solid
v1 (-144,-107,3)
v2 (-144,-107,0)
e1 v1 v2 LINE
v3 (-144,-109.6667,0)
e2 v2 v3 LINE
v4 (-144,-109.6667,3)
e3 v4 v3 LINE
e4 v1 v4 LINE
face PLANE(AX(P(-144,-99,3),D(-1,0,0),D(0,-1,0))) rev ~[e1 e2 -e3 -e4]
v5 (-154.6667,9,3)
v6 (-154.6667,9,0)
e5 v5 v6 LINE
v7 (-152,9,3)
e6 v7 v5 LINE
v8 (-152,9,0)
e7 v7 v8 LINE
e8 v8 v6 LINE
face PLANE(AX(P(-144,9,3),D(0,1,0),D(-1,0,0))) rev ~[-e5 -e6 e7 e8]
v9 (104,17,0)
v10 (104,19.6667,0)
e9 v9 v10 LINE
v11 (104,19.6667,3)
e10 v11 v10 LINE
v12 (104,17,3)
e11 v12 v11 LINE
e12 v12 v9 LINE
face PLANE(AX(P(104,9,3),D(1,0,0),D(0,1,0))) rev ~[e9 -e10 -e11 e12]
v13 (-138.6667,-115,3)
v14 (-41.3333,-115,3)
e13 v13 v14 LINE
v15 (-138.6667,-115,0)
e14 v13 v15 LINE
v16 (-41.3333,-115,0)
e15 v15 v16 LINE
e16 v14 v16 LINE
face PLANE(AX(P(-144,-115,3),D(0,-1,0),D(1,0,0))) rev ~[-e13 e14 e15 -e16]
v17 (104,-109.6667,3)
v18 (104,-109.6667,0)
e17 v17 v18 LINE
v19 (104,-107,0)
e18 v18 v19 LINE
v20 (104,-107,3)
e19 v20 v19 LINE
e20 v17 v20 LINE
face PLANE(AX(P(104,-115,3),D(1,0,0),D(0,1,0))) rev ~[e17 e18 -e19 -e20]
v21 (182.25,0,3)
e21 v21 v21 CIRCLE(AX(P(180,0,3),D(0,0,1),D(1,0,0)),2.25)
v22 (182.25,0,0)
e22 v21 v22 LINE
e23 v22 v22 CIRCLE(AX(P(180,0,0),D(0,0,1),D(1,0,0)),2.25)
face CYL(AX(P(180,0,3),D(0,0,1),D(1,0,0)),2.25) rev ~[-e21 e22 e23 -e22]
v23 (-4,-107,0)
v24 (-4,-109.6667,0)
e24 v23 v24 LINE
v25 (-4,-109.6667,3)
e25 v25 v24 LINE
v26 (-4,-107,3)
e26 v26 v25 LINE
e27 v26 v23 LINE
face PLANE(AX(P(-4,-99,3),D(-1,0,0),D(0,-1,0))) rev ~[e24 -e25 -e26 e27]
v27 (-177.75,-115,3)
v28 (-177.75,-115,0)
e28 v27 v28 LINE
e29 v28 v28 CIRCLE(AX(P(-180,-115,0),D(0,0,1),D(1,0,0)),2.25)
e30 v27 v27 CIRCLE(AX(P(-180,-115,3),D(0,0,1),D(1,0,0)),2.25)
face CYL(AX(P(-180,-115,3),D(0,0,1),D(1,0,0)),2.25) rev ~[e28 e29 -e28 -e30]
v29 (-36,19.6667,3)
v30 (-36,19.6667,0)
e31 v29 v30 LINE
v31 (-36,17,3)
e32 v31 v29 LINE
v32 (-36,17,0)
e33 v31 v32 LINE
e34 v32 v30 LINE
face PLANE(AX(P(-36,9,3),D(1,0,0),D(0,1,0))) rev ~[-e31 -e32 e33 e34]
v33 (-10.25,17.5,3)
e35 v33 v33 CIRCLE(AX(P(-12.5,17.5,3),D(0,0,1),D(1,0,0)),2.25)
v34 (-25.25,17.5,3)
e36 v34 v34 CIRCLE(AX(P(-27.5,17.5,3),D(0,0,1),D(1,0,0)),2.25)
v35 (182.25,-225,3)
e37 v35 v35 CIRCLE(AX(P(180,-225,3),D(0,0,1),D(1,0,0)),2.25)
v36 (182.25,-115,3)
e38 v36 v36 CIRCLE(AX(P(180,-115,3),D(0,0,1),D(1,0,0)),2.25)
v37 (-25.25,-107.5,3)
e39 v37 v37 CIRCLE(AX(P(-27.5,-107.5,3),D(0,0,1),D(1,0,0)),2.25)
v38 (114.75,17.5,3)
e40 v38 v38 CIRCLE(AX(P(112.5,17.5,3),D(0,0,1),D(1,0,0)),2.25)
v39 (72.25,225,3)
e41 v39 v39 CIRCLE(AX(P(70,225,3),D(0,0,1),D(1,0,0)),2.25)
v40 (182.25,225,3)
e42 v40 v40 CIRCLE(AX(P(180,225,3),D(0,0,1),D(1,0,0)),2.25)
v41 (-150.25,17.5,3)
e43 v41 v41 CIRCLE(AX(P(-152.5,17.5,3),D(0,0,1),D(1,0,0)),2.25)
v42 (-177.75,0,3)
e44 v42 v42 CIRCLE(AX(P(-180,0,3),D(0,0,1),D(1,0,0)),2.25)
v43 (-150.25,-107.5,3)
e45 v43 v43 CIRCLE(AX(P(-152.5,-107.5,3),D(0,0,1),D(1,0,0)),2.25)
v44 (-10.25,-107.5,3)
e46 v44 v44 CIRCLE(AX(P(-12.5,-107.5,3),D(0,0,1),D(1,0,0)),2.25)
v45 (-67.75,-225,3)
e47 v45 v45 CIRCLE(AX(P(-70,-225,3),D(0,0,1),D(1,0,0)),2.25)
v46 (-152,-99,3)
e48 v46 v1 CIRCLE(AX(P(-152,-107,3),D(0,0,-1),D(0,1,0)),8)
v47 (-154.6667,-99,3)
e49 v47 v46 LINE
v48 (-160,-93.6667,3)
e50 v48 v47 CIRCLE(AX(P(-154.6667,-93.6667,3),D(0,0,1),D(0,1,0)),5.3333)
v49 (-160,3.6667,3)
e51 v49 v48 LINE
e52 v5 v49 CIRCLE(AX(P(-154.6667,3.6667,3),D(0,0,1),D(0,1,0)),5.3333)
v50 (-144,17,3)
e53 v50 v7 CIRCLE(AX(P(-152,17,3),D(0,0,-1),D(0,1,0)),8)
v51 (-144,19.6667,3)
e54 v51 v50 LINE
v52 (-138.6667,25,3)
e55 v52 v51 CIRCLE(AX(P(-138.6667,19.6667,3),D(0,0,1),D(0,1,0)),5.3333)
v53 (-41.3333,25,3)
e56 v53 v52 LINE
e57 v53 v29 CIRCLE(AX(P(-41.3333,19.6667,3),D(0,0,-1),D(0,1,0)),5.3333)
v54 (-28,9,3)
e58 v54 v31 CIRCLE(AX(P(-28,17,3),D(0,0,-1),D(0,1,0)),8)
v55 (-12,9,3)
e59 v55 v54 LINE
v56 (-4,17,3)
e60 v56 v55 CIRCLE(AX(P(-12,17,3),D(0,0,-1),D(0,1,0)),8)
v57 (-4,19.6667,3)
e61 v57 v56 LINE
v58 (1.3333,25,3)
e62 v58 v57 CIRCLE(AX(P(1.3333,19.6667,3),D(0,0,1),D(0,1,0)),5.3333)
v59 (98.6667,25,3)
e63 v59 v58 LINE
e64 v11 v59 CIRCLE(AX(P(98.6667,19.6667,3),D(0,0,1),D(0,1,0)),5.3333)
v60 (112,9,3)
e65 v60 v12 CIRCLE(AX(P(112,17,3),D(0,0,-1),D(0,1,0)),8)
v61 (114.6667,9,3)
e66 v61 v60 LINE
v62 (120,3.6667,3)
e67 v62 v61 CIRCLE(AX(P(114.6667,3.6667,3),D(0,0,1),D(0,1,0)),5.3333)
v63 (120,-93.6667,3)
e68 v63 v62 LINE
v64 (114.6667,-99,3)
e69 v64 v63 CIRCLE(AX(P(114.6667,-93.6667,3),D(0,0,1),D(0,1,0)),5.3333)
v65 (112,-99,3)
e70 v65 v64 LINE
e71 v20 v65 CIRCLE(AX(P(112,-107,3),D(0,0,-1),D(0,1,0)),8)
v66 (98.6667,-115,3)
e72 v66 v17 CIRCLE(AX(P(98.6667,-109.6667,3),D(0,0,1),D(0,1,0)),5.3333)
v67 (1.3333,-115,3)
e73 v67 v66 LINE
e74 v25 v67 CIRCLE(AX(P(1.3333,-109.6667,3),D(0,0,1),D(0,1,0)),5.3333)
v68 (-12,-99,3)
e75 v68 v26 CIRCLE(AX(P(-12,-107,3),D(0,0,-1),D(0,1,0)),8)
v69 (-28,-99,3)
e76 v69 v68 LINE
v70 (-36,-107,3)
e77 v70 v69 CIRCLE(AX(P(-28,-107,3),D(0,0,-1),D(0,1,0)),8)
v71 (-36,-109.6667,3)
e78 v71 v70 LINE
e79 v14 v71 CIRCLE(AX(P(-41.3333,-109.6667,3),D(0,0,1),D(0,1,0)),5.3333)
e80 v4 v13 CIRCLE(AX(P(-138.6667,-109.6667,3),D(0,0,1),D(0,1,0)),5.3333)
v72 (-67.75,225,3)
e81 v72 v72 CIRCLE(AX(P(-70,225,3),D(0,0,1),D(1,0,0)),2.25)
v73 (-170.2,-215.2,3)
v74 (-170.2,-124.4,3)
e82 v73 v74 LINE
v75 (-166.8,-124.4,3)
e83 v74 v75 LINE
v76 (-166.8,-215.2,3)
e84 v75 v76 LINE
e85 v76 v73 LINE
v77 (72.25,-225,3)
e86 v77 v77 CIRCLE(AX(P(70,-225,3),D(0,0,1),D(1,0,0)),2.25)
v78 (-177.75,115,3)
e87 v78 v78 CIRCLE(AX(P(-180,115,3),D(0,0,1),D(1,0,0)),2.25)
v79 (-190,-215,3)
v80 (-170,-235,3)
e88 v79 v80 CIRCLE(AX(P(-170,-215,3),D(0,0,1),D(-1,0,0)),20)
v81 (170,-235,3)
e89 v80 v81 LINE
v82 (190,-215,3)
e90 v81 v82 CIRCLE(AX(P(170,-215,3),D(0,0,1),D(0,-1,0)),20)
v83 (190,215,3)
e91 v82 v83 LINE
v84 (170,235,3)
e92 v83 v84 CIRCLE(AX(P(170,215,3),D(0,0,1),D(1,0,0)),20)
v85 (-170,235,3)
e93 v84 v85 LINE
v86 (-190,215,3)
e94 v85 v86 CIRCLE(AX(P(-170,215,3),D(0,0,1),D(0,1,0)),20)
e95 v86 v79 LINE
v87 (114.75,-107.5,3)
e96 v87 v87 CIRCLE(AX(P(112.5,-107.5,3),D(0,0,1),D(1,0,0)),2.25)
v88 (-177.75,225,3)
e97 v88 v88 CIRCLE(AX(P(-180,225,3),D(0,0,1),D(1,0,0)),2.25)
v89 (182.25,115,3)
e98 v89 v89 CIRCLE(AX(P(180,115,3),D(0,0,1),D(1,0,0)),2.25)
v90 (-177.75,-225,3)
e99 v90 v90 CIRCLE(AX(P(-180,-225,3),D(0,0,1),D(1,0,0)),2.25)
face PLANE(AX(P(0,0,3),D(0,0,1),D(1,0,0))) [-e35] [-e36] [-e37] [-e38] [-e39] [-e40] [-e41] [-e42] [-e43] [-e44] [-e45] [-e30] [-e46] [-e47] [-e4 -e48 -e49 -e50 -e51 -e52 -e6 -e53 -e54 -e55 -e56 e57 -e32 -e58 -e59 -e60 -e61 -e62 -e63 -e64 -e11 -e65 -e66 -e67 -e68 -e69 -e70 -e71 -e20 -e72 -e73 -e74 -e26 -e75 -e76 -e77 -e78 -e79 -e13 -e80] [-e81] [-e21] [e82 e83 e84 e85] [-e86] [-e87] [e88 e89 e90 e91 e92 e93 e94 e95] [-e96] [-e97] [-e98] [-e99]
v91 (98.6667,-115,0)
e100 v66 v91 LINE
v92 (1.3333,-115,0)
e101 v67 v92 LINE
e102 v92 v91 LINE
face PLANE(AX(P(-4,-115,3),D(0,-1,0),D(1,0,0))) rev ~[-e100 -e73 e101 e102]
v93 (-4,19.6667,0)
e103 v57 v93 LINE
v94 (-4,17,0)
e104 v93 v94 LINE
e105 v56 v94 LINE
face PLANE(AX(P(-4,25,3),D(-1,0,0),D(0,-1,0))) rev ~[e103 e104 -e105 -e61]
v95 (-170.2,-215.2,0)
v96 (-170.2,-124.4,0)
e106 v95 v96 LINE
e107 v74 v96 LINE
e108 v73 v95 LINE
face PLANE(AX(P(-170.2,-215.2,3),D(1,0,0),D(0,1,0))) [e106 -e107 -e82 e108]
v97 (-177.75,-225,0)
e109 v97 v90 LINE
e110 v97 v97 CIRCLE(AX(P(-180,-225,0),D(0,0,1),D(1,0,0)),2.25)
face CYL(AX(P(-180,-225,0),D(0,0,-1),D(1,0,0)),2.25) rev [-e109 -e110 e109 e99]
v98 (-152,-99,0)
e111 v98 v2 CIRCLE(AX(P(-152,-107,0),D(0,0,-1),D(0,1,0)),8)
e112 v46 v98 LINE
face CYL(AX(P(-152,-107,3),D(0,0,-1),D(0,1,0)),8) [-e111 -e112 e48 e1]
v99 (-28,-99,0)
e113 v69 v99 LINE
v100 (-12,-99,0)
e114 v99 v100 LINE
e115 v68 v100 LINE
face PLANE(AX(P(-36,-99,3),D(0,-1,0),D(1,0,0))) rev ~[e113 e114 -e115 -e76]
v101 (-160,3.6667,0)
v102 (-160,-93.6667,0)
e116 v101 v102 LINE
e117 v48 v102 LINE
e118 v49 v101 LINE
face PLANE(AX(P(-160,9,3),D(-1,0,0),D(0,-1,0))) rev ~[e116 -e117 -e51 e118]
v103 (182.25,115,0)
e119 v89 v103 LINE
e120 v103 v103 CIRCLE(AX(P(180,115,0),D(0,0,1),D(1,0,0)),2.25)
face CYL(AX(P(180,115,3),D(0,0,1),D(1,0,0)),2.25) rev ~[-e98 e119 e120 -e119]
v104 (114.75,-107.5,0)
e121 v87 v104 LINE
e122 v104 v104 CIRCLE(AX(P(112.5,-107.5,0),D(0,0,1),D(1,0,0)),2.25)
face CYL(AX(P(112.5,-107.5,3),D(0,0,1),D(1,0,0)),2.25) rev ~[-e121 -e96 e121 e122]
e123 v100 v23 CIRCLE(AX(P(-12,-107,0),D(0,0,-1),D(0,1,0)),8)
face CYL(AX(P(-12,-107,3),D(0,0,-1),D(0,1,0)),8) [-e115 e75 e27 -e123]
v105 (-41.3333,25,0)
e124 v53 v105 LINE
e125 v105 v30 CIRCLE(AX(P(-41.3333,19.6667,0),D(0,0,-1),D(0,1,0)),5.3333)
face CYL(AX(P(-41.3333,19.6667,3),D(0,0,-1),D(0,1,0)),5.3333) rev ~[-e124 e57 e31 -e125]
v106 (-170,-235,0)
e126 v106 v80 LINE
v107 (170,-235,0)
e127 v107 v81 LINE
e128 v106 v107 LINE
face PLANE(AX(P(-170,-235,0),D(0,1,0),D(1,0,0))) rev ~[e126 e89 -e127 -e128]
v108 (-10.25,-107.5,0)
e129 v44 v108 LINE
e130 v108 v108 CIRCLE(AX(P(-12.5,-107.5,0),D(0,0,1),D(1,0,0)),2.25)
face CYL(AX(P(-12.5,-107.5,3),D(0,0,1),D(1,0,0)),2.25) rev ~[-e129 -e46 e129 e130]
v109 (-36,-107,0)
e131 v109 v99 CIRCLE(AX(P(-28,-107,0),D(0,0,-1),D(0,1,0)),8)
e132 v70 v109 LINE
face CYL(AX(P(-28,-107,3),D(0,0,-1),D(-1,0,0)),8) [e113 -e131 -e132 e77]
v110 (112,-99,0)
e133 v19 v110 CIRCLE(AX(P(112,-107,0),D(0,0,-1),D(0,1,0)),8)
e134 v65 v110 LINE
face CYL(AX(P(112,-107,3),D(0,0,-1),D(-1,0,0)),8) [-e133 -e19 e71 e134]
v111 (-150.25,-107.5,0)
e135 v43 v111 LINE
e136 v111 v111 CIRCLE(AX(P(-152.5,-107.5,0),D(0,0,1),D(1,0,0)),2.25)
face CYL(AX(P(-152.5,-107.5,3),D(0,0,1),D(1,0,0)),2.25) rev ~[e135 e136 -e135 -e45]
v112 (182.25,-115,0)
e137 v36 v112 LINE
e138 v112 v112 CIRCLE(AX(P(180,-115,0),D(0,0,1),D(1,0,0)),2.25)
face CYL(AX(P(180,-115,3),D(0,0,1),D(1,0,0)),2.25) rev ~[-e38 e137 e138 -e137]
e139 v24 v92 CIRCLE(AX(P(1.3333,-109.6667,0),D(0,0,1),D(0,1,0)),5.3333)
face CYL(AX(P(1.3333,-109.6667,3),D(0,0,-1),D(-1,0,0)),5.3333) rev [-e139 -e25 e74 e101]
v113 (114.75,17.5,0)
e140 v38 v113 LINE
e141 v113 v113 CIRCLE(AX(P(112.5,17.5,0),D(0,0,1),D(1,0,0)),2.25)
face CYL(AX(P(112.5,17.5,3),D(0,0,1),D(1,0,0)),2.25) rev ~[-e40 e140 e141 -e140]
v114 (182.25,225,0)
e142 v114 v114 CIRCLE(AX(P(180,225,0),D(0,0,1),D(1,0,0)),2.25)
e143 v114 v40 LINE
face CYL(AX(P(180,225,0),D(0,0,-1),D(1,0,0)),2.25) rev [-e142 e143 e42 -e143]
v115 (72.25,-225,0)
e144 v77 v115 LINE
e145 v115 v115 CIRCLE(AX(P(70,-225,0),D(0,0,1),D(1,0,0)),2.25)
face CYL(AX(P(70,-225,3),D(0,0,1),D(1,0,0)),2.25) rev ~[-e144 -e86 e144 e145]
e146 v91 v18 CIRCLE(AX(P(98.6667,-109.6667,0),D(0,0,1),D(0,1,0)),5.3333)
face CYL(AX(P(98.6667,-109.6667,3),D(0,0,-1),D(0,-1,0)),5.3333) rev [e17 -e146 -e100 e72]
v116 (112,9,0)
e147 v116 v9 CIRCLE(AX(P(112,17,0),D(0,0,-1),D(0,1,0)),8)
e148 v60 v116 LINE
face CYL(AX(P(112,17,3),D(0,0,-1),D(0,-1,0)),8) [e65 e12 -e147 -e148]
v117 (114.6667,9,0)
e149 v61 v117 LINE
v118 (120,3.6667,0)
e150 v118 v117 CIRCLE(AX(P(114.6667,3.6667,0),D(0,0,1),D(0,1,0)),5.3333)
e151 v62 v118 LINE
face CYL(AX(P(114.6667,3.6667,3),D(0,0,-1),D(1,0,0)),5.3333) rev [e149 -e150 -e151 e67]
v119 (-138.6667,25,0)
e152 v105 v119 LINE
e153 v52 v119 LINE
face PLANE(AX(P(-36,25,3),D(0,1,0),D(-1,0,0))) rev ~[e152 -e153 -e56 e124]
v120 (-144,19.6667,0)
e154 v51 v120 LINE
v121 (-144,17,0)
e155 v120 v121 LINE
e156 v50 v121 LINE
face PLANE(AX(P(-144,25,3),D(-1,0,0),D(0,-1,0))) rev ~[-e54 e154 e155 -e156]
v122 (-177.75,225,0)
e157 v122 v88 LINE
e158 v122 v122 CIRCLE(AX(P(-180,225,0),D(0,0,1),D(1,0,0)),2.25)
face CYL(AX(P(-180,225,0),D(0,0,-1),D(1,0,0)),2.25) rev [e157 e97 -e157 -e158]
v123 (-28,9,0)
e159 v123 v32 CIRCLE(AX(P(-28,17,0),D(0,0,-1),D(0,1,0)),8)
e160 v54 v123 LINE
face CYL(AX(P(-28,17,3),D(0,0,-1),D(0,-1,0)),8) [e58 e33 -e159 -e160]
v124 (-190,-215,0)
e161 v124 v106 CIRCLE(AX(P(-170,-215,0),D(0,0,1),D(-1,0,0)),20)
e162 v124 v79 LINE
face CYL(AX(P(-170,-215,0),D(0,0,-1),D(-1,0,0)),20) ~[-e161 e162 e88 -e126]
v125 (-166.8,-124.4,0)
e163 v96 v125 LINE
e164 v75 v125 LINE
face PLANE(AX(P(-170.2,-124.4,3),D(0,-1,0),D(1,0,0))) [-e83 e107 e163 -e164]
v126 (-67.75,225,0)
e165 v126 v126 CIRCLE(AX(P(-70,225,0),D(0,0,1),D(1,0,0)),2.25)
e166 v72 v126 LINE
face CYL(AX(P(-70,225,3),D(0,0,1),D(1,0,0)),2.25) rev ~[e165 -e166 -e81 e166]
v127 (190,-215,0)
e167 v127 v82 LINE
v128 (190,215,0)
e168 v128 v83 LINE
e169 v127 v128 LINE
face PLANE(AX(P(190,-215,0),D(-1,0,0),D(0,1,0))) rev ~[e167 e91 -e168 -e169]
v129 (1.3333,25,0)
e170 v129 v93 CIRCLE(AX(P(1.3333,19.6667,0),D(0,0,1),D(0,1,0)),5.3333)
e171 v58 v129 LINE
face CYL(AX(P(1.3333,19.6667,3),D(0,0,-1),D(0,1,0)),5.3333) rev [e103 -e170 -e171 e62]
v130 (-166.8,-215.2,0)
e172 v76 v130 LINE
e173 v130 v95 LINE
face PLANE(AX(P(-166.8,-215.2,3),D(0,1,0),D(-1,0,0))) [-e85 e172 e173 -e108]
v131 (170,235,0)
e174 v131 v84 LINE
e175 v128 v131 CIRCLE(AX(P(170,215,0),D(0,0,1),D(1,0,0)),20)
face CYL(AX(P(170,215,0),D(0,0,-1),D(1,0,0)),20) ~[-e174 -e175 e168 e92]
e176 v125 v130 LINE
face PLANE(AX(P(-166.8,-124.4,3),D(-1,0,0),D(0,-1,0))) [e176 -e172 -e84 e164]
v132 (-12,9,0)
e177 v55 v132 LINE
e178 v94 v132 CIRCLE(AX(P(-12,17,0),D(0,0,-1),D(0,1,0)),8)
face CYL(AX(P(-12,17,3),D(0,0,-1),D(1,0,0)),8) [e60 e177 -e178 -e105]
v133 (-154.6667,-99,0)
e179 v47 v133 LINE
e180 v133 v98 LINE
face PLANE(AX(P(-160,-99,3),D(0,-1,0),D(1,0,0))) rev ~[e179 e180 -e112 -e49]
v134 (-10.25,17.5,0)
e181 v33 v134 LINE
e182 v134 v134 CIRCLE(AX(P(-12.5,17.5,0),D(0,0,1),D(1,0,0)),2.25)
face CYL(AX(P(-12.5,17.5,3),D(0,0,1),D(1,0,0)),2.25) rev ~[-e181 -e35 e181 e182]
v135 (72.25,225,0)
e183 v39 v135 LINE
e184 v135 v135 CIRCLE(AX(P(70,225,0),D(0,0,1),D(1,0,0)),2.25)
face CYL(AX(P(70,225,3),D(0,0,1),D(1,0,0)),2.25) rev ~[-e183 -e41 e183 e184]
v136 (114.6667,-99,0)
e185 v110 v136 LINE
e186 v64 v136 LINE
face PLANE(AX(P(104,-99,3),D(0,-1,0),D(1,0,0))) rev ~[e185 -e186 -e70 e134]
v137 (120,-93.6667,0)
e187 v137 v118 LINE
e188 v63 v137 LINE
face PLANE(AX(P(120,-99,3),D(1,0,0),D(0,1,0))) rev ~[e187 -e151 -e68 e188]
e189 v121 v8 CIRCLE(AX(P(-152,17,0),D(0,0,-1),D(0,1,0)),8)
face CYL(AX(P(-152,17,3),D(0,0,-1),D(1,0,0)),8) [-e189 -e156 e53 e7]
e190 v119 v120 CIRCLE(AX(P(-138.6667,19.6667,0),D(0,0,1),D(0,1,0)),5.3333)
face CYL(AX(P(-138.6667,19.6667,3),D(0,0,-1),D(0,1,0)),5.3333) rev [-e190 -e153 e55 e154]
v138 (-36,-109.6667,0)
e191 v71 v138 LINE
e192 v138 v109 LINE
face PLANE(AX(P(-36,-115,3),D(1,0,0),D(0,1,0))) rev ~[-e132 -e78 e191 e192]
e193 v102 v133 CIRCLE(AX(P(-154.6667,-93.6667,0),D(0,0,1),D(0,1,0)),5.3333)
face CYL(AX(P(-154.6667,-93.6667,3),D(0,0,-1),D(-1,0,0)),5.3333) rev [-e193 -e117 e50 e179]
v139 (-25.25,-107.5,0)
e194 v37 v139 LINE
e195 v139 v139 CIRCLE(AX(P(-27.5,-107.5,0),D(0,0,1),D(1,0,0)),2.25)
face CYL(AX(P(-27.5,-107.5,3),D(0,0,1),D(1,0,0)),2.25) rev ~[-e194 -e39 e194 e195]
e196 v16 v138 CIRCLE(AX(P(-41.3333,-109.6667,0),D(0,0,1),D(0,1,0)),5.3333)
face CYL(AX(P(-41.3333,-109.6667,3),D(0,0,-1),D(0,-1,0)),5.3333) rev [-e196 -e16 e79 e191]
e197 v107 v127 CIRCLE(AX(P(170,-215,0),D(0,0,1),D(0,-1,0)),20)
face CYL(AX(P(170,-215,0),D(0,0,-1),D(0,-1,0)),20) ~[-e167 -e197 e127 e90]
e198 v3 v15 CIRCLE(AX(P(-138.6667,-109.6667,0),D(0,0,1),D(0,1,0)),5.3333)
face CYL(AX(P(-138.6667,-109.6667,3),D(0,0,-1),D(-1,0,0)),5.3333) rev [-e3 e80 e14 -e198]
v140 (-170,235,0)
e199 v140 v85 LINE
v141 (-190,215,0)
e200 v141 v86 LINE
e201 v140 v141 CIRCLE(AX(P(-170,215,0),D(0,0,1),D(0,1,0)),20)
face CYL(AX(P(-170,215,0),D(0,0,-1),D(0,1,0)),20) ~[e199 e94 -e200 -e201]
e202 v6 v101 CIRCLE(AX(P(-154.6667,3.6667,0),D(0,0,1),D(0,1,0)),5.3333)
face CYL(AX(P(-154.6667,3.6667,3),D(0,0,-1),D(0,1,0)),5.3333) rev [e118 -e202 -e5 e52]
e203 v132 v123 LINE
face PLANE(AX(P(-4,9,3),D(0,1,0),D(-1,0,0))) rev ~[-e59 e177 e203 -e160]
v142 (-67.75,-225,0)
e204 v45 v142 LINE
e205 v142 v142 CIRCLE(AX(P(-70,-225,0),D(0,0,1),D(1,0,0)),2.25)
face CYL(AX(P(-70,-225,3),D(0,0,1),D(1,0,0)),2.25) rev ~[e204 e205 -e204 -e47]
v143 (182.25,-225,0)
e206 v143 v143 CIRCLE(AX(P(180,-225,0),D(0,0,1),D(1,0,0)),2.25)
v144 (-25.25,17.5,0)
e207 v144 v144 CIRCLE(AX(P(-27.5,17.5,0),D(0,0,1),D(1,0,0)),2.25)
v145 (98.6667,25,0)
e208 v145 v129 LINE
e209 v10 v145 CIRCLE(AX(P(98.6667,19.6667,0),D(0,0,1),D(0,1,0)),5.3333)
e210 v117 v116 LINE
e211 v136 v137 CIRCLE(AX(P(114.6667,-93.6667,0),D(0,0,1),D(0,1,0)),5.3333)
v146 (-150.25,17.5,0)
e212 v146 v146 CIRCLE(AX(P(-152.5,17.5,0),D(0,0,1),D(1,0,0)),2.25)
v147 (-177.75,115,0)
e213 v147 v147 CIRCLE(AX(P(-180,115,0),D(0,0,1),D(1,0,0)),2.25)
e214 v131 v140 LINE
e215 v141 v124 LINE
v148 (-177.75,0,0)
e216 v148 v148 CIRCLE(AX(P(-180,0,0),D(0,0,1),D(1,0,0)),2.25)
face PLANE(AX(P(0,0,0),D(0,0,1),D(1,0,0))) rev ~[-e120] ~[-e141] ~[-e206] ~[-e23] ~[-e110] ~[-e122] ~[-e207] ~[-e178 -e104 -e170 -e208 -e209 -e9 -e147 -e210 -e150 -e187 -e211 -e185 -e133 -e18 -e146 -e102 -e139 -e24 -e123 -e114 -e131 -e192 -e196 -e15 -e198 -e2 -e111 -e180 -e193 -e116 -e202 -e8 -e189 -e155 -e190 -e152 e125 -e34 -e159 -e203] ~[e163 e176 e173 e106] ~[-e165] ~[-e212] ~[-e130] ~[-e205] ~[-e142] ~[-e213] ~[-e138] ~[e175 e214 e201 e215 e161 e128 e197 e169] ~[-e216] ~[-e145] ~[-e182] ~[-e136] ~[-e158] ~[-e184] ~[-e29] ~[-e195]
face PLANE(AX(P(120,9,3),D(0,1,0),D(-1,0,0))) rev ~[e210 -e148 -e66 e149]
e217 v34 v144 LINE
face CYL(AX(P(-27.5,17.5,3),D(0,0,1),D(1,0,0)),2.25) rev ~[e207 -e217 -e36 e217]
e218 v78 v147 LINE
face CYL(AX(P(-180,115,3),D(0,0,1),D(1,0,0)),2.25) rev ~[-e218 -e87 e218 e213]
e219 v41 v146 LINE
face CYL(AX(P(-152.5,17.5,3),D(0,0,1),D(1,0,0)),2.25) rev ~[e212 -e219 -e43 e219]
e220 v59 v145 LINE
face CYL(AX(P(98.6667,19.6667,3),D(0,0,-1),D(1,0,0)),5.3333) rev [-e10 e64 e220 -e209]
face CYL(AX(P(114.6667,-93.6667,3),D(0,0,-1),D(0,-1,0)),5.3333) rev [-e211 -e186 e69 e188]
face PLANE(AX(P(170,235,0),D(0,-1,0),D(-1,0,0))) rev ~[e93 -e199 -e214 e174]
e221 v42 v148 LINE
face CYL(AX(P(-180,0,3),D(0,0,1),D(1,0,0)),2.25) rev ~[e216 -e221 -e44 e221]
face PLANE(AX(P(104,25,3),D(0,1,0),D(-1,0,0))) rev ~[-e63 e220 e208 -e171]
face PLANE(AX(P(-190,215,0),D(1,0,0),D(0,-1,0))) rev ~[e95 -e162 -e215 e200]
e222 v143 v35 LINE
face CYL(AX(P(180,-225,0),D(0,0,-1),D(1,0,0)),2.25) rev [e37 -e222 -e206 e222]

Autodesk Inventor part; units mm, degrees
ref_plane "YZ Plane" through (0, 0, 0) normal (1, 0, 0) x (0, 1, 0)
ref_plane "XZ Plane" through (0, 0, 0) normal (0, 1, 0) x (-1, 0, 0)
ref_plane "XY Plane" through (0, 0, 0) normal (0, 0, 1) x (1, 0, 0)
sketch "スケッチ1" plane through (0, 0, 0) normal (0, 0, 1) x (1, 0, 0)
  line L0 (-170, -235) -> (170, -235)
  line L1 (190, -215) -> (190, 215)
  line L2 (170, 235) -> (-170, 235)
  line L3 (-190, 215) -> (-190, -215)
  line L4 (-190, -235) -> (190, 235) construction
  line L5 (190, -235) -> (-190, 235) construction
  circle A0 centre (-180, 225) radius 2.25
  circle A1 centre (180, 225) radius 2.25
  circle A2 centre (-180, -225) radius 2.25
  circle A3 centre (180, -225) radius 2.25
  arc A4 (-170, 235) -> (-190, 215) centre (-170, 215) ccw
  arc A5 (190, 215) -> (170, 235) centre (170, 215) ccw
  arc A6 (170, -235) -> (190, -215) centre (170, -215) ccw
  arc A7 (-190, -215) -> (-170, -235) centre (-170, -215) ccw
  point P0 (0, 0)
  dimension "d0" = 380
  dimension "d1" = 470
  dimension "d2" = 4.5
  dimension "d3" = 10
  dimension "d4" = 10
  dimension "d5" = 10
  dimension "d6" = 10
  dimension "d7" = 10
  dimension "d8" = 10
  dimension "d9" = 10
  dimension "d10" = 10
  dimension "d11" = 20
extrude "押し出し1" add sketch "スケッチ1" along normal blind 3
sketch "スケッチ2" plane through (0, 0, 3) normal (0, 0, 1) x (1, 0, 0)
  circle A0 centre (-180, -225) radius 2.25 construction
  circle A1 centre (-180, -115) radius 2.25
  line L0 (-190, 215) -> (-190, -215) projected
  point P0 (0, 0)
  dimension "d14" = 110
  dimension "d15" = 10
extrude "押し出し2" cut sketch "スケッチ2" against normal blind 10
sketch "スケッチ3" plane through (0, 0, 3) normal (0, 0, 1) x (1, 0, 0)
  line L0 (-167, -124.6) -> (-167, -215) construction
  line L1 (-170, -124.6) -> (-167, -124.6) construction
  line L2 (-170, -215) -> (-170, -124.6) construction
  line L3 (-170, -215) -> (-167, -215) construction
  line L4 (-170.2, -124.4) -> (-166.8, -124.4)
  line L5 (-166.8, -124.4) -> (-166.8, -215.2)
  line L6 (-166.8, -215.2) -> (-170.2, -215.2)
  line L7 (-170.2, -215.2) -> (-170.2, -124.4)
  point P0 (0, 0)
  dimension "d18" = 0.2
extrude "押し出し3" cut sketch "スケッチ3" against normal up to surface (3 mm away)
sketch "スケッチ4" plane through (0, 0, 3) normal (0, 0, 1) x (1, 0, 0)
  circle A0 centre (-180, -225) radius 2.25 construction
  circle A1 centre (-180, -115) radius 2.25 construction
  circle A2 centre (180, -225) radius 2.25 construction
  circle A3 centre (-180, 225) radius 2.25 construction
  circle A4 centre (180, 225) radius 2.25 construction
  circle A5 centre (-180, -225) radius 2.25 construction
  circle A6 centre (-180, -115) radius 2.25 construction
  circle A7 centre (-180, -225) radius 110 construction
  circle A8 centre (-180, 225) radius 2.25 construction
  circle A9 centre (-180, 225) radius 110 construction
  circle A10 centre (180, 225) radius 110 construction
  circle A11 centre (180, -225) radius 110 construction
  line L0 (-180, -225) -> (180, -225) construction
  line L1 (180, -225) -> (180, 225) construction
  line L2 (180, 225) -> (-180, 225) construction
  line L3 (-180, 225) -> (-180, -225) construction
  line L4 (-180, 0) -> (180, 0) construction
  circle A12 centre (-180, 115) radius 2.25
  circle A13 centre (-180, 0) radius 2.25
  circle A14 centre (-70, -225) radius 2.25
  circle A15 centre (70, -225) radius 2.25
  circle A16 centre (180, -115) radius 2.25
  circle A17 centre (180, 115) radius 2.25
  circle A18 centre (70, 225) radius 2.25
  circle A19 centre (-70, 225) radius 2.25
  circle A20 centre (180, 0) radius 2.25
  point P0 (0, 0)
extrude "押し出し4" cut sketch "スケッチ4" against normal up to surface (3 mm away)
sketch "スケッチ5" plane through (0, 0, 3) normal (0, 0, 1) x (1, 0, 0)
  line L0 (-160, -115) -> (-20, -115) construction
  line L1 (-20, -115) -> (-20, 25) construction
  line L2 (-20, 25) -> (-160, 25) construction
  line L3 (-160, 25) -> (-160, -115) construction
  line L4 (-20, -115) -> (120, -115) construction
  line L5 (120, -115) -> (120, 25) construction
  line L6 (120, 25) -> (-20, 25) construction
  line L7 (-20, 25) -> (-20, -115) construction
  line L8 (-170, -235) -> (170, -235) construction
  line L9 (-190, 215) -> (-190, -215) construction
  line L10 (-152.5, -107.5) -> (-27.5, -107.5) construction
  line L11 (-27.5, -107.5) -> (-27.5, 17.5) construction
  line L12 (-27.5, 17.5) -> (-152.5, 17.5) construction
  line L13 (-152.5, 17.5) -> (-152.5, -107.5) construction
  line L14 (-12.5, 17.5) -> (112.5, 17.5) construction
  line L15 (112.5, 17.5) -> (112.5, -107.5) construction
  line L16 (112.5, -107.5) -> (-12.5, -107.5) construction
  line L17 (-12.5, -107.5) -> (-12.5, 17.5) construction
  circle A0 centre (-152.5, 17.5) radius 2.25
  circle A1 centre (-27.5, 17.5) radius 2.25
  circle A2 centre (-152.5, -107.5) radius 2.25
  circle A3 centre (-27.5, -107.5) radius 2.25
  circle A4 centre (-12.5, -107.5) radius 2.25
  circle A5 centre (-12.5, 17.5) radius 2.25
  circle A6 centre (112.5, 17.5) radius 2.25
  circle A7 centre (112.5, -107.5) radius 2.25
  line L18 (-144, 25) -> (-144, 9)
  line L19 (-144, 9) -> (-160, 9)
  line L20 (-160, 9) -> (-160, -99)
  line L21 (-160, -99) -> (-144, -99)
  line L22 (-144, -99) -> (-144, -115)
  line L23 (-144, -115) -> (-36, -115)
  line L24 (-36, -115) -> (-36, -99)
  line L25 (-36, -99) -> (-4, -99)
  line L26 (-4, -99) -> (-4, -115)
  line L27 (-4, -115) -> (104, -115)
  line L28 (104, -115) -> (104, -99)
  line L29 (104, -99) -> (120, -99)
  line L30 (120, -99) -> (120, 9)
  line L31 (120, 9) -> (104, 9)
  line L32 (104, 9) -> (104, 25)
  line L33 (104, 25) -> (-4, 25)
  line L34 (-4, 25) -> (-4, 9)
  line L35 (-4, 9) -> (-36, 9)
  line L36 (-36, 9) -> (-36, 25)
  line L37 (-36, 25) -> (-144, 25)
  point P0 (0, 0)
  dimension "d23" = 140
  dimension "d24" = 0
  dimension "d25" = 120
  dimension "d26" = 30
  dimension "d27" = 125
  dimension "d28" = 125
  dimension "d29" = 7.5
  dimension "d30" = 7.5
  dimension "d31" = 7.5
  dimension "d32" = 7.5
  dimension "d33" = 7.5
  dimension "d34" = 4.5
  dimension "d35" = 16
  dimension "d36" = 16
extrude "押し出し5" cut sketch "スケッチ5" against normal through all
fillet "フィレット1" radius 8 8 edges at (-144, 9, 1.5) (-144, -99, 1.5) (-36, -99, 1.5) (-4, -99, 1.5) (104, -99, 1.5) (104, 9, 1.5) (-4, 9, 1.5) (-36, 9, 1.5)
fillet "フィレット1" radius 5.3333 12 edges at (-144, 25, 1.5) (-160, 9, 1.5) (-160, -99, 1.5) (-144, -115, 1.5) (-36, -115, 1.5) (-4, -115, 1.5) (104, -115, 1.5) (120, -99, 1.5) (120, 9, 1.5) (104, 25, 1.5) (-4, 25, 1.5) (-36, 25, 1.5)
equation "\"d5\" = d3"
equation "\"d6\" = d4"
equation "\"d7\" = d6"
equation "\"d8\" = d5"
equation "\"d9\" = d8"
equation "\"d10\" = d7"
equation "\"d30\" = d29"
equation "\"d31\" = d30"
equation "\"d32\" = d30"
equation "\"d33\" = d31"
equation "\"d36\" = d35"
equation "\"d39\" = 0.5 * d35"
equation "\"d40\" = 0.333333 * d35"
properties part number "left_panel_amd" material "アルミニウム 6061"
